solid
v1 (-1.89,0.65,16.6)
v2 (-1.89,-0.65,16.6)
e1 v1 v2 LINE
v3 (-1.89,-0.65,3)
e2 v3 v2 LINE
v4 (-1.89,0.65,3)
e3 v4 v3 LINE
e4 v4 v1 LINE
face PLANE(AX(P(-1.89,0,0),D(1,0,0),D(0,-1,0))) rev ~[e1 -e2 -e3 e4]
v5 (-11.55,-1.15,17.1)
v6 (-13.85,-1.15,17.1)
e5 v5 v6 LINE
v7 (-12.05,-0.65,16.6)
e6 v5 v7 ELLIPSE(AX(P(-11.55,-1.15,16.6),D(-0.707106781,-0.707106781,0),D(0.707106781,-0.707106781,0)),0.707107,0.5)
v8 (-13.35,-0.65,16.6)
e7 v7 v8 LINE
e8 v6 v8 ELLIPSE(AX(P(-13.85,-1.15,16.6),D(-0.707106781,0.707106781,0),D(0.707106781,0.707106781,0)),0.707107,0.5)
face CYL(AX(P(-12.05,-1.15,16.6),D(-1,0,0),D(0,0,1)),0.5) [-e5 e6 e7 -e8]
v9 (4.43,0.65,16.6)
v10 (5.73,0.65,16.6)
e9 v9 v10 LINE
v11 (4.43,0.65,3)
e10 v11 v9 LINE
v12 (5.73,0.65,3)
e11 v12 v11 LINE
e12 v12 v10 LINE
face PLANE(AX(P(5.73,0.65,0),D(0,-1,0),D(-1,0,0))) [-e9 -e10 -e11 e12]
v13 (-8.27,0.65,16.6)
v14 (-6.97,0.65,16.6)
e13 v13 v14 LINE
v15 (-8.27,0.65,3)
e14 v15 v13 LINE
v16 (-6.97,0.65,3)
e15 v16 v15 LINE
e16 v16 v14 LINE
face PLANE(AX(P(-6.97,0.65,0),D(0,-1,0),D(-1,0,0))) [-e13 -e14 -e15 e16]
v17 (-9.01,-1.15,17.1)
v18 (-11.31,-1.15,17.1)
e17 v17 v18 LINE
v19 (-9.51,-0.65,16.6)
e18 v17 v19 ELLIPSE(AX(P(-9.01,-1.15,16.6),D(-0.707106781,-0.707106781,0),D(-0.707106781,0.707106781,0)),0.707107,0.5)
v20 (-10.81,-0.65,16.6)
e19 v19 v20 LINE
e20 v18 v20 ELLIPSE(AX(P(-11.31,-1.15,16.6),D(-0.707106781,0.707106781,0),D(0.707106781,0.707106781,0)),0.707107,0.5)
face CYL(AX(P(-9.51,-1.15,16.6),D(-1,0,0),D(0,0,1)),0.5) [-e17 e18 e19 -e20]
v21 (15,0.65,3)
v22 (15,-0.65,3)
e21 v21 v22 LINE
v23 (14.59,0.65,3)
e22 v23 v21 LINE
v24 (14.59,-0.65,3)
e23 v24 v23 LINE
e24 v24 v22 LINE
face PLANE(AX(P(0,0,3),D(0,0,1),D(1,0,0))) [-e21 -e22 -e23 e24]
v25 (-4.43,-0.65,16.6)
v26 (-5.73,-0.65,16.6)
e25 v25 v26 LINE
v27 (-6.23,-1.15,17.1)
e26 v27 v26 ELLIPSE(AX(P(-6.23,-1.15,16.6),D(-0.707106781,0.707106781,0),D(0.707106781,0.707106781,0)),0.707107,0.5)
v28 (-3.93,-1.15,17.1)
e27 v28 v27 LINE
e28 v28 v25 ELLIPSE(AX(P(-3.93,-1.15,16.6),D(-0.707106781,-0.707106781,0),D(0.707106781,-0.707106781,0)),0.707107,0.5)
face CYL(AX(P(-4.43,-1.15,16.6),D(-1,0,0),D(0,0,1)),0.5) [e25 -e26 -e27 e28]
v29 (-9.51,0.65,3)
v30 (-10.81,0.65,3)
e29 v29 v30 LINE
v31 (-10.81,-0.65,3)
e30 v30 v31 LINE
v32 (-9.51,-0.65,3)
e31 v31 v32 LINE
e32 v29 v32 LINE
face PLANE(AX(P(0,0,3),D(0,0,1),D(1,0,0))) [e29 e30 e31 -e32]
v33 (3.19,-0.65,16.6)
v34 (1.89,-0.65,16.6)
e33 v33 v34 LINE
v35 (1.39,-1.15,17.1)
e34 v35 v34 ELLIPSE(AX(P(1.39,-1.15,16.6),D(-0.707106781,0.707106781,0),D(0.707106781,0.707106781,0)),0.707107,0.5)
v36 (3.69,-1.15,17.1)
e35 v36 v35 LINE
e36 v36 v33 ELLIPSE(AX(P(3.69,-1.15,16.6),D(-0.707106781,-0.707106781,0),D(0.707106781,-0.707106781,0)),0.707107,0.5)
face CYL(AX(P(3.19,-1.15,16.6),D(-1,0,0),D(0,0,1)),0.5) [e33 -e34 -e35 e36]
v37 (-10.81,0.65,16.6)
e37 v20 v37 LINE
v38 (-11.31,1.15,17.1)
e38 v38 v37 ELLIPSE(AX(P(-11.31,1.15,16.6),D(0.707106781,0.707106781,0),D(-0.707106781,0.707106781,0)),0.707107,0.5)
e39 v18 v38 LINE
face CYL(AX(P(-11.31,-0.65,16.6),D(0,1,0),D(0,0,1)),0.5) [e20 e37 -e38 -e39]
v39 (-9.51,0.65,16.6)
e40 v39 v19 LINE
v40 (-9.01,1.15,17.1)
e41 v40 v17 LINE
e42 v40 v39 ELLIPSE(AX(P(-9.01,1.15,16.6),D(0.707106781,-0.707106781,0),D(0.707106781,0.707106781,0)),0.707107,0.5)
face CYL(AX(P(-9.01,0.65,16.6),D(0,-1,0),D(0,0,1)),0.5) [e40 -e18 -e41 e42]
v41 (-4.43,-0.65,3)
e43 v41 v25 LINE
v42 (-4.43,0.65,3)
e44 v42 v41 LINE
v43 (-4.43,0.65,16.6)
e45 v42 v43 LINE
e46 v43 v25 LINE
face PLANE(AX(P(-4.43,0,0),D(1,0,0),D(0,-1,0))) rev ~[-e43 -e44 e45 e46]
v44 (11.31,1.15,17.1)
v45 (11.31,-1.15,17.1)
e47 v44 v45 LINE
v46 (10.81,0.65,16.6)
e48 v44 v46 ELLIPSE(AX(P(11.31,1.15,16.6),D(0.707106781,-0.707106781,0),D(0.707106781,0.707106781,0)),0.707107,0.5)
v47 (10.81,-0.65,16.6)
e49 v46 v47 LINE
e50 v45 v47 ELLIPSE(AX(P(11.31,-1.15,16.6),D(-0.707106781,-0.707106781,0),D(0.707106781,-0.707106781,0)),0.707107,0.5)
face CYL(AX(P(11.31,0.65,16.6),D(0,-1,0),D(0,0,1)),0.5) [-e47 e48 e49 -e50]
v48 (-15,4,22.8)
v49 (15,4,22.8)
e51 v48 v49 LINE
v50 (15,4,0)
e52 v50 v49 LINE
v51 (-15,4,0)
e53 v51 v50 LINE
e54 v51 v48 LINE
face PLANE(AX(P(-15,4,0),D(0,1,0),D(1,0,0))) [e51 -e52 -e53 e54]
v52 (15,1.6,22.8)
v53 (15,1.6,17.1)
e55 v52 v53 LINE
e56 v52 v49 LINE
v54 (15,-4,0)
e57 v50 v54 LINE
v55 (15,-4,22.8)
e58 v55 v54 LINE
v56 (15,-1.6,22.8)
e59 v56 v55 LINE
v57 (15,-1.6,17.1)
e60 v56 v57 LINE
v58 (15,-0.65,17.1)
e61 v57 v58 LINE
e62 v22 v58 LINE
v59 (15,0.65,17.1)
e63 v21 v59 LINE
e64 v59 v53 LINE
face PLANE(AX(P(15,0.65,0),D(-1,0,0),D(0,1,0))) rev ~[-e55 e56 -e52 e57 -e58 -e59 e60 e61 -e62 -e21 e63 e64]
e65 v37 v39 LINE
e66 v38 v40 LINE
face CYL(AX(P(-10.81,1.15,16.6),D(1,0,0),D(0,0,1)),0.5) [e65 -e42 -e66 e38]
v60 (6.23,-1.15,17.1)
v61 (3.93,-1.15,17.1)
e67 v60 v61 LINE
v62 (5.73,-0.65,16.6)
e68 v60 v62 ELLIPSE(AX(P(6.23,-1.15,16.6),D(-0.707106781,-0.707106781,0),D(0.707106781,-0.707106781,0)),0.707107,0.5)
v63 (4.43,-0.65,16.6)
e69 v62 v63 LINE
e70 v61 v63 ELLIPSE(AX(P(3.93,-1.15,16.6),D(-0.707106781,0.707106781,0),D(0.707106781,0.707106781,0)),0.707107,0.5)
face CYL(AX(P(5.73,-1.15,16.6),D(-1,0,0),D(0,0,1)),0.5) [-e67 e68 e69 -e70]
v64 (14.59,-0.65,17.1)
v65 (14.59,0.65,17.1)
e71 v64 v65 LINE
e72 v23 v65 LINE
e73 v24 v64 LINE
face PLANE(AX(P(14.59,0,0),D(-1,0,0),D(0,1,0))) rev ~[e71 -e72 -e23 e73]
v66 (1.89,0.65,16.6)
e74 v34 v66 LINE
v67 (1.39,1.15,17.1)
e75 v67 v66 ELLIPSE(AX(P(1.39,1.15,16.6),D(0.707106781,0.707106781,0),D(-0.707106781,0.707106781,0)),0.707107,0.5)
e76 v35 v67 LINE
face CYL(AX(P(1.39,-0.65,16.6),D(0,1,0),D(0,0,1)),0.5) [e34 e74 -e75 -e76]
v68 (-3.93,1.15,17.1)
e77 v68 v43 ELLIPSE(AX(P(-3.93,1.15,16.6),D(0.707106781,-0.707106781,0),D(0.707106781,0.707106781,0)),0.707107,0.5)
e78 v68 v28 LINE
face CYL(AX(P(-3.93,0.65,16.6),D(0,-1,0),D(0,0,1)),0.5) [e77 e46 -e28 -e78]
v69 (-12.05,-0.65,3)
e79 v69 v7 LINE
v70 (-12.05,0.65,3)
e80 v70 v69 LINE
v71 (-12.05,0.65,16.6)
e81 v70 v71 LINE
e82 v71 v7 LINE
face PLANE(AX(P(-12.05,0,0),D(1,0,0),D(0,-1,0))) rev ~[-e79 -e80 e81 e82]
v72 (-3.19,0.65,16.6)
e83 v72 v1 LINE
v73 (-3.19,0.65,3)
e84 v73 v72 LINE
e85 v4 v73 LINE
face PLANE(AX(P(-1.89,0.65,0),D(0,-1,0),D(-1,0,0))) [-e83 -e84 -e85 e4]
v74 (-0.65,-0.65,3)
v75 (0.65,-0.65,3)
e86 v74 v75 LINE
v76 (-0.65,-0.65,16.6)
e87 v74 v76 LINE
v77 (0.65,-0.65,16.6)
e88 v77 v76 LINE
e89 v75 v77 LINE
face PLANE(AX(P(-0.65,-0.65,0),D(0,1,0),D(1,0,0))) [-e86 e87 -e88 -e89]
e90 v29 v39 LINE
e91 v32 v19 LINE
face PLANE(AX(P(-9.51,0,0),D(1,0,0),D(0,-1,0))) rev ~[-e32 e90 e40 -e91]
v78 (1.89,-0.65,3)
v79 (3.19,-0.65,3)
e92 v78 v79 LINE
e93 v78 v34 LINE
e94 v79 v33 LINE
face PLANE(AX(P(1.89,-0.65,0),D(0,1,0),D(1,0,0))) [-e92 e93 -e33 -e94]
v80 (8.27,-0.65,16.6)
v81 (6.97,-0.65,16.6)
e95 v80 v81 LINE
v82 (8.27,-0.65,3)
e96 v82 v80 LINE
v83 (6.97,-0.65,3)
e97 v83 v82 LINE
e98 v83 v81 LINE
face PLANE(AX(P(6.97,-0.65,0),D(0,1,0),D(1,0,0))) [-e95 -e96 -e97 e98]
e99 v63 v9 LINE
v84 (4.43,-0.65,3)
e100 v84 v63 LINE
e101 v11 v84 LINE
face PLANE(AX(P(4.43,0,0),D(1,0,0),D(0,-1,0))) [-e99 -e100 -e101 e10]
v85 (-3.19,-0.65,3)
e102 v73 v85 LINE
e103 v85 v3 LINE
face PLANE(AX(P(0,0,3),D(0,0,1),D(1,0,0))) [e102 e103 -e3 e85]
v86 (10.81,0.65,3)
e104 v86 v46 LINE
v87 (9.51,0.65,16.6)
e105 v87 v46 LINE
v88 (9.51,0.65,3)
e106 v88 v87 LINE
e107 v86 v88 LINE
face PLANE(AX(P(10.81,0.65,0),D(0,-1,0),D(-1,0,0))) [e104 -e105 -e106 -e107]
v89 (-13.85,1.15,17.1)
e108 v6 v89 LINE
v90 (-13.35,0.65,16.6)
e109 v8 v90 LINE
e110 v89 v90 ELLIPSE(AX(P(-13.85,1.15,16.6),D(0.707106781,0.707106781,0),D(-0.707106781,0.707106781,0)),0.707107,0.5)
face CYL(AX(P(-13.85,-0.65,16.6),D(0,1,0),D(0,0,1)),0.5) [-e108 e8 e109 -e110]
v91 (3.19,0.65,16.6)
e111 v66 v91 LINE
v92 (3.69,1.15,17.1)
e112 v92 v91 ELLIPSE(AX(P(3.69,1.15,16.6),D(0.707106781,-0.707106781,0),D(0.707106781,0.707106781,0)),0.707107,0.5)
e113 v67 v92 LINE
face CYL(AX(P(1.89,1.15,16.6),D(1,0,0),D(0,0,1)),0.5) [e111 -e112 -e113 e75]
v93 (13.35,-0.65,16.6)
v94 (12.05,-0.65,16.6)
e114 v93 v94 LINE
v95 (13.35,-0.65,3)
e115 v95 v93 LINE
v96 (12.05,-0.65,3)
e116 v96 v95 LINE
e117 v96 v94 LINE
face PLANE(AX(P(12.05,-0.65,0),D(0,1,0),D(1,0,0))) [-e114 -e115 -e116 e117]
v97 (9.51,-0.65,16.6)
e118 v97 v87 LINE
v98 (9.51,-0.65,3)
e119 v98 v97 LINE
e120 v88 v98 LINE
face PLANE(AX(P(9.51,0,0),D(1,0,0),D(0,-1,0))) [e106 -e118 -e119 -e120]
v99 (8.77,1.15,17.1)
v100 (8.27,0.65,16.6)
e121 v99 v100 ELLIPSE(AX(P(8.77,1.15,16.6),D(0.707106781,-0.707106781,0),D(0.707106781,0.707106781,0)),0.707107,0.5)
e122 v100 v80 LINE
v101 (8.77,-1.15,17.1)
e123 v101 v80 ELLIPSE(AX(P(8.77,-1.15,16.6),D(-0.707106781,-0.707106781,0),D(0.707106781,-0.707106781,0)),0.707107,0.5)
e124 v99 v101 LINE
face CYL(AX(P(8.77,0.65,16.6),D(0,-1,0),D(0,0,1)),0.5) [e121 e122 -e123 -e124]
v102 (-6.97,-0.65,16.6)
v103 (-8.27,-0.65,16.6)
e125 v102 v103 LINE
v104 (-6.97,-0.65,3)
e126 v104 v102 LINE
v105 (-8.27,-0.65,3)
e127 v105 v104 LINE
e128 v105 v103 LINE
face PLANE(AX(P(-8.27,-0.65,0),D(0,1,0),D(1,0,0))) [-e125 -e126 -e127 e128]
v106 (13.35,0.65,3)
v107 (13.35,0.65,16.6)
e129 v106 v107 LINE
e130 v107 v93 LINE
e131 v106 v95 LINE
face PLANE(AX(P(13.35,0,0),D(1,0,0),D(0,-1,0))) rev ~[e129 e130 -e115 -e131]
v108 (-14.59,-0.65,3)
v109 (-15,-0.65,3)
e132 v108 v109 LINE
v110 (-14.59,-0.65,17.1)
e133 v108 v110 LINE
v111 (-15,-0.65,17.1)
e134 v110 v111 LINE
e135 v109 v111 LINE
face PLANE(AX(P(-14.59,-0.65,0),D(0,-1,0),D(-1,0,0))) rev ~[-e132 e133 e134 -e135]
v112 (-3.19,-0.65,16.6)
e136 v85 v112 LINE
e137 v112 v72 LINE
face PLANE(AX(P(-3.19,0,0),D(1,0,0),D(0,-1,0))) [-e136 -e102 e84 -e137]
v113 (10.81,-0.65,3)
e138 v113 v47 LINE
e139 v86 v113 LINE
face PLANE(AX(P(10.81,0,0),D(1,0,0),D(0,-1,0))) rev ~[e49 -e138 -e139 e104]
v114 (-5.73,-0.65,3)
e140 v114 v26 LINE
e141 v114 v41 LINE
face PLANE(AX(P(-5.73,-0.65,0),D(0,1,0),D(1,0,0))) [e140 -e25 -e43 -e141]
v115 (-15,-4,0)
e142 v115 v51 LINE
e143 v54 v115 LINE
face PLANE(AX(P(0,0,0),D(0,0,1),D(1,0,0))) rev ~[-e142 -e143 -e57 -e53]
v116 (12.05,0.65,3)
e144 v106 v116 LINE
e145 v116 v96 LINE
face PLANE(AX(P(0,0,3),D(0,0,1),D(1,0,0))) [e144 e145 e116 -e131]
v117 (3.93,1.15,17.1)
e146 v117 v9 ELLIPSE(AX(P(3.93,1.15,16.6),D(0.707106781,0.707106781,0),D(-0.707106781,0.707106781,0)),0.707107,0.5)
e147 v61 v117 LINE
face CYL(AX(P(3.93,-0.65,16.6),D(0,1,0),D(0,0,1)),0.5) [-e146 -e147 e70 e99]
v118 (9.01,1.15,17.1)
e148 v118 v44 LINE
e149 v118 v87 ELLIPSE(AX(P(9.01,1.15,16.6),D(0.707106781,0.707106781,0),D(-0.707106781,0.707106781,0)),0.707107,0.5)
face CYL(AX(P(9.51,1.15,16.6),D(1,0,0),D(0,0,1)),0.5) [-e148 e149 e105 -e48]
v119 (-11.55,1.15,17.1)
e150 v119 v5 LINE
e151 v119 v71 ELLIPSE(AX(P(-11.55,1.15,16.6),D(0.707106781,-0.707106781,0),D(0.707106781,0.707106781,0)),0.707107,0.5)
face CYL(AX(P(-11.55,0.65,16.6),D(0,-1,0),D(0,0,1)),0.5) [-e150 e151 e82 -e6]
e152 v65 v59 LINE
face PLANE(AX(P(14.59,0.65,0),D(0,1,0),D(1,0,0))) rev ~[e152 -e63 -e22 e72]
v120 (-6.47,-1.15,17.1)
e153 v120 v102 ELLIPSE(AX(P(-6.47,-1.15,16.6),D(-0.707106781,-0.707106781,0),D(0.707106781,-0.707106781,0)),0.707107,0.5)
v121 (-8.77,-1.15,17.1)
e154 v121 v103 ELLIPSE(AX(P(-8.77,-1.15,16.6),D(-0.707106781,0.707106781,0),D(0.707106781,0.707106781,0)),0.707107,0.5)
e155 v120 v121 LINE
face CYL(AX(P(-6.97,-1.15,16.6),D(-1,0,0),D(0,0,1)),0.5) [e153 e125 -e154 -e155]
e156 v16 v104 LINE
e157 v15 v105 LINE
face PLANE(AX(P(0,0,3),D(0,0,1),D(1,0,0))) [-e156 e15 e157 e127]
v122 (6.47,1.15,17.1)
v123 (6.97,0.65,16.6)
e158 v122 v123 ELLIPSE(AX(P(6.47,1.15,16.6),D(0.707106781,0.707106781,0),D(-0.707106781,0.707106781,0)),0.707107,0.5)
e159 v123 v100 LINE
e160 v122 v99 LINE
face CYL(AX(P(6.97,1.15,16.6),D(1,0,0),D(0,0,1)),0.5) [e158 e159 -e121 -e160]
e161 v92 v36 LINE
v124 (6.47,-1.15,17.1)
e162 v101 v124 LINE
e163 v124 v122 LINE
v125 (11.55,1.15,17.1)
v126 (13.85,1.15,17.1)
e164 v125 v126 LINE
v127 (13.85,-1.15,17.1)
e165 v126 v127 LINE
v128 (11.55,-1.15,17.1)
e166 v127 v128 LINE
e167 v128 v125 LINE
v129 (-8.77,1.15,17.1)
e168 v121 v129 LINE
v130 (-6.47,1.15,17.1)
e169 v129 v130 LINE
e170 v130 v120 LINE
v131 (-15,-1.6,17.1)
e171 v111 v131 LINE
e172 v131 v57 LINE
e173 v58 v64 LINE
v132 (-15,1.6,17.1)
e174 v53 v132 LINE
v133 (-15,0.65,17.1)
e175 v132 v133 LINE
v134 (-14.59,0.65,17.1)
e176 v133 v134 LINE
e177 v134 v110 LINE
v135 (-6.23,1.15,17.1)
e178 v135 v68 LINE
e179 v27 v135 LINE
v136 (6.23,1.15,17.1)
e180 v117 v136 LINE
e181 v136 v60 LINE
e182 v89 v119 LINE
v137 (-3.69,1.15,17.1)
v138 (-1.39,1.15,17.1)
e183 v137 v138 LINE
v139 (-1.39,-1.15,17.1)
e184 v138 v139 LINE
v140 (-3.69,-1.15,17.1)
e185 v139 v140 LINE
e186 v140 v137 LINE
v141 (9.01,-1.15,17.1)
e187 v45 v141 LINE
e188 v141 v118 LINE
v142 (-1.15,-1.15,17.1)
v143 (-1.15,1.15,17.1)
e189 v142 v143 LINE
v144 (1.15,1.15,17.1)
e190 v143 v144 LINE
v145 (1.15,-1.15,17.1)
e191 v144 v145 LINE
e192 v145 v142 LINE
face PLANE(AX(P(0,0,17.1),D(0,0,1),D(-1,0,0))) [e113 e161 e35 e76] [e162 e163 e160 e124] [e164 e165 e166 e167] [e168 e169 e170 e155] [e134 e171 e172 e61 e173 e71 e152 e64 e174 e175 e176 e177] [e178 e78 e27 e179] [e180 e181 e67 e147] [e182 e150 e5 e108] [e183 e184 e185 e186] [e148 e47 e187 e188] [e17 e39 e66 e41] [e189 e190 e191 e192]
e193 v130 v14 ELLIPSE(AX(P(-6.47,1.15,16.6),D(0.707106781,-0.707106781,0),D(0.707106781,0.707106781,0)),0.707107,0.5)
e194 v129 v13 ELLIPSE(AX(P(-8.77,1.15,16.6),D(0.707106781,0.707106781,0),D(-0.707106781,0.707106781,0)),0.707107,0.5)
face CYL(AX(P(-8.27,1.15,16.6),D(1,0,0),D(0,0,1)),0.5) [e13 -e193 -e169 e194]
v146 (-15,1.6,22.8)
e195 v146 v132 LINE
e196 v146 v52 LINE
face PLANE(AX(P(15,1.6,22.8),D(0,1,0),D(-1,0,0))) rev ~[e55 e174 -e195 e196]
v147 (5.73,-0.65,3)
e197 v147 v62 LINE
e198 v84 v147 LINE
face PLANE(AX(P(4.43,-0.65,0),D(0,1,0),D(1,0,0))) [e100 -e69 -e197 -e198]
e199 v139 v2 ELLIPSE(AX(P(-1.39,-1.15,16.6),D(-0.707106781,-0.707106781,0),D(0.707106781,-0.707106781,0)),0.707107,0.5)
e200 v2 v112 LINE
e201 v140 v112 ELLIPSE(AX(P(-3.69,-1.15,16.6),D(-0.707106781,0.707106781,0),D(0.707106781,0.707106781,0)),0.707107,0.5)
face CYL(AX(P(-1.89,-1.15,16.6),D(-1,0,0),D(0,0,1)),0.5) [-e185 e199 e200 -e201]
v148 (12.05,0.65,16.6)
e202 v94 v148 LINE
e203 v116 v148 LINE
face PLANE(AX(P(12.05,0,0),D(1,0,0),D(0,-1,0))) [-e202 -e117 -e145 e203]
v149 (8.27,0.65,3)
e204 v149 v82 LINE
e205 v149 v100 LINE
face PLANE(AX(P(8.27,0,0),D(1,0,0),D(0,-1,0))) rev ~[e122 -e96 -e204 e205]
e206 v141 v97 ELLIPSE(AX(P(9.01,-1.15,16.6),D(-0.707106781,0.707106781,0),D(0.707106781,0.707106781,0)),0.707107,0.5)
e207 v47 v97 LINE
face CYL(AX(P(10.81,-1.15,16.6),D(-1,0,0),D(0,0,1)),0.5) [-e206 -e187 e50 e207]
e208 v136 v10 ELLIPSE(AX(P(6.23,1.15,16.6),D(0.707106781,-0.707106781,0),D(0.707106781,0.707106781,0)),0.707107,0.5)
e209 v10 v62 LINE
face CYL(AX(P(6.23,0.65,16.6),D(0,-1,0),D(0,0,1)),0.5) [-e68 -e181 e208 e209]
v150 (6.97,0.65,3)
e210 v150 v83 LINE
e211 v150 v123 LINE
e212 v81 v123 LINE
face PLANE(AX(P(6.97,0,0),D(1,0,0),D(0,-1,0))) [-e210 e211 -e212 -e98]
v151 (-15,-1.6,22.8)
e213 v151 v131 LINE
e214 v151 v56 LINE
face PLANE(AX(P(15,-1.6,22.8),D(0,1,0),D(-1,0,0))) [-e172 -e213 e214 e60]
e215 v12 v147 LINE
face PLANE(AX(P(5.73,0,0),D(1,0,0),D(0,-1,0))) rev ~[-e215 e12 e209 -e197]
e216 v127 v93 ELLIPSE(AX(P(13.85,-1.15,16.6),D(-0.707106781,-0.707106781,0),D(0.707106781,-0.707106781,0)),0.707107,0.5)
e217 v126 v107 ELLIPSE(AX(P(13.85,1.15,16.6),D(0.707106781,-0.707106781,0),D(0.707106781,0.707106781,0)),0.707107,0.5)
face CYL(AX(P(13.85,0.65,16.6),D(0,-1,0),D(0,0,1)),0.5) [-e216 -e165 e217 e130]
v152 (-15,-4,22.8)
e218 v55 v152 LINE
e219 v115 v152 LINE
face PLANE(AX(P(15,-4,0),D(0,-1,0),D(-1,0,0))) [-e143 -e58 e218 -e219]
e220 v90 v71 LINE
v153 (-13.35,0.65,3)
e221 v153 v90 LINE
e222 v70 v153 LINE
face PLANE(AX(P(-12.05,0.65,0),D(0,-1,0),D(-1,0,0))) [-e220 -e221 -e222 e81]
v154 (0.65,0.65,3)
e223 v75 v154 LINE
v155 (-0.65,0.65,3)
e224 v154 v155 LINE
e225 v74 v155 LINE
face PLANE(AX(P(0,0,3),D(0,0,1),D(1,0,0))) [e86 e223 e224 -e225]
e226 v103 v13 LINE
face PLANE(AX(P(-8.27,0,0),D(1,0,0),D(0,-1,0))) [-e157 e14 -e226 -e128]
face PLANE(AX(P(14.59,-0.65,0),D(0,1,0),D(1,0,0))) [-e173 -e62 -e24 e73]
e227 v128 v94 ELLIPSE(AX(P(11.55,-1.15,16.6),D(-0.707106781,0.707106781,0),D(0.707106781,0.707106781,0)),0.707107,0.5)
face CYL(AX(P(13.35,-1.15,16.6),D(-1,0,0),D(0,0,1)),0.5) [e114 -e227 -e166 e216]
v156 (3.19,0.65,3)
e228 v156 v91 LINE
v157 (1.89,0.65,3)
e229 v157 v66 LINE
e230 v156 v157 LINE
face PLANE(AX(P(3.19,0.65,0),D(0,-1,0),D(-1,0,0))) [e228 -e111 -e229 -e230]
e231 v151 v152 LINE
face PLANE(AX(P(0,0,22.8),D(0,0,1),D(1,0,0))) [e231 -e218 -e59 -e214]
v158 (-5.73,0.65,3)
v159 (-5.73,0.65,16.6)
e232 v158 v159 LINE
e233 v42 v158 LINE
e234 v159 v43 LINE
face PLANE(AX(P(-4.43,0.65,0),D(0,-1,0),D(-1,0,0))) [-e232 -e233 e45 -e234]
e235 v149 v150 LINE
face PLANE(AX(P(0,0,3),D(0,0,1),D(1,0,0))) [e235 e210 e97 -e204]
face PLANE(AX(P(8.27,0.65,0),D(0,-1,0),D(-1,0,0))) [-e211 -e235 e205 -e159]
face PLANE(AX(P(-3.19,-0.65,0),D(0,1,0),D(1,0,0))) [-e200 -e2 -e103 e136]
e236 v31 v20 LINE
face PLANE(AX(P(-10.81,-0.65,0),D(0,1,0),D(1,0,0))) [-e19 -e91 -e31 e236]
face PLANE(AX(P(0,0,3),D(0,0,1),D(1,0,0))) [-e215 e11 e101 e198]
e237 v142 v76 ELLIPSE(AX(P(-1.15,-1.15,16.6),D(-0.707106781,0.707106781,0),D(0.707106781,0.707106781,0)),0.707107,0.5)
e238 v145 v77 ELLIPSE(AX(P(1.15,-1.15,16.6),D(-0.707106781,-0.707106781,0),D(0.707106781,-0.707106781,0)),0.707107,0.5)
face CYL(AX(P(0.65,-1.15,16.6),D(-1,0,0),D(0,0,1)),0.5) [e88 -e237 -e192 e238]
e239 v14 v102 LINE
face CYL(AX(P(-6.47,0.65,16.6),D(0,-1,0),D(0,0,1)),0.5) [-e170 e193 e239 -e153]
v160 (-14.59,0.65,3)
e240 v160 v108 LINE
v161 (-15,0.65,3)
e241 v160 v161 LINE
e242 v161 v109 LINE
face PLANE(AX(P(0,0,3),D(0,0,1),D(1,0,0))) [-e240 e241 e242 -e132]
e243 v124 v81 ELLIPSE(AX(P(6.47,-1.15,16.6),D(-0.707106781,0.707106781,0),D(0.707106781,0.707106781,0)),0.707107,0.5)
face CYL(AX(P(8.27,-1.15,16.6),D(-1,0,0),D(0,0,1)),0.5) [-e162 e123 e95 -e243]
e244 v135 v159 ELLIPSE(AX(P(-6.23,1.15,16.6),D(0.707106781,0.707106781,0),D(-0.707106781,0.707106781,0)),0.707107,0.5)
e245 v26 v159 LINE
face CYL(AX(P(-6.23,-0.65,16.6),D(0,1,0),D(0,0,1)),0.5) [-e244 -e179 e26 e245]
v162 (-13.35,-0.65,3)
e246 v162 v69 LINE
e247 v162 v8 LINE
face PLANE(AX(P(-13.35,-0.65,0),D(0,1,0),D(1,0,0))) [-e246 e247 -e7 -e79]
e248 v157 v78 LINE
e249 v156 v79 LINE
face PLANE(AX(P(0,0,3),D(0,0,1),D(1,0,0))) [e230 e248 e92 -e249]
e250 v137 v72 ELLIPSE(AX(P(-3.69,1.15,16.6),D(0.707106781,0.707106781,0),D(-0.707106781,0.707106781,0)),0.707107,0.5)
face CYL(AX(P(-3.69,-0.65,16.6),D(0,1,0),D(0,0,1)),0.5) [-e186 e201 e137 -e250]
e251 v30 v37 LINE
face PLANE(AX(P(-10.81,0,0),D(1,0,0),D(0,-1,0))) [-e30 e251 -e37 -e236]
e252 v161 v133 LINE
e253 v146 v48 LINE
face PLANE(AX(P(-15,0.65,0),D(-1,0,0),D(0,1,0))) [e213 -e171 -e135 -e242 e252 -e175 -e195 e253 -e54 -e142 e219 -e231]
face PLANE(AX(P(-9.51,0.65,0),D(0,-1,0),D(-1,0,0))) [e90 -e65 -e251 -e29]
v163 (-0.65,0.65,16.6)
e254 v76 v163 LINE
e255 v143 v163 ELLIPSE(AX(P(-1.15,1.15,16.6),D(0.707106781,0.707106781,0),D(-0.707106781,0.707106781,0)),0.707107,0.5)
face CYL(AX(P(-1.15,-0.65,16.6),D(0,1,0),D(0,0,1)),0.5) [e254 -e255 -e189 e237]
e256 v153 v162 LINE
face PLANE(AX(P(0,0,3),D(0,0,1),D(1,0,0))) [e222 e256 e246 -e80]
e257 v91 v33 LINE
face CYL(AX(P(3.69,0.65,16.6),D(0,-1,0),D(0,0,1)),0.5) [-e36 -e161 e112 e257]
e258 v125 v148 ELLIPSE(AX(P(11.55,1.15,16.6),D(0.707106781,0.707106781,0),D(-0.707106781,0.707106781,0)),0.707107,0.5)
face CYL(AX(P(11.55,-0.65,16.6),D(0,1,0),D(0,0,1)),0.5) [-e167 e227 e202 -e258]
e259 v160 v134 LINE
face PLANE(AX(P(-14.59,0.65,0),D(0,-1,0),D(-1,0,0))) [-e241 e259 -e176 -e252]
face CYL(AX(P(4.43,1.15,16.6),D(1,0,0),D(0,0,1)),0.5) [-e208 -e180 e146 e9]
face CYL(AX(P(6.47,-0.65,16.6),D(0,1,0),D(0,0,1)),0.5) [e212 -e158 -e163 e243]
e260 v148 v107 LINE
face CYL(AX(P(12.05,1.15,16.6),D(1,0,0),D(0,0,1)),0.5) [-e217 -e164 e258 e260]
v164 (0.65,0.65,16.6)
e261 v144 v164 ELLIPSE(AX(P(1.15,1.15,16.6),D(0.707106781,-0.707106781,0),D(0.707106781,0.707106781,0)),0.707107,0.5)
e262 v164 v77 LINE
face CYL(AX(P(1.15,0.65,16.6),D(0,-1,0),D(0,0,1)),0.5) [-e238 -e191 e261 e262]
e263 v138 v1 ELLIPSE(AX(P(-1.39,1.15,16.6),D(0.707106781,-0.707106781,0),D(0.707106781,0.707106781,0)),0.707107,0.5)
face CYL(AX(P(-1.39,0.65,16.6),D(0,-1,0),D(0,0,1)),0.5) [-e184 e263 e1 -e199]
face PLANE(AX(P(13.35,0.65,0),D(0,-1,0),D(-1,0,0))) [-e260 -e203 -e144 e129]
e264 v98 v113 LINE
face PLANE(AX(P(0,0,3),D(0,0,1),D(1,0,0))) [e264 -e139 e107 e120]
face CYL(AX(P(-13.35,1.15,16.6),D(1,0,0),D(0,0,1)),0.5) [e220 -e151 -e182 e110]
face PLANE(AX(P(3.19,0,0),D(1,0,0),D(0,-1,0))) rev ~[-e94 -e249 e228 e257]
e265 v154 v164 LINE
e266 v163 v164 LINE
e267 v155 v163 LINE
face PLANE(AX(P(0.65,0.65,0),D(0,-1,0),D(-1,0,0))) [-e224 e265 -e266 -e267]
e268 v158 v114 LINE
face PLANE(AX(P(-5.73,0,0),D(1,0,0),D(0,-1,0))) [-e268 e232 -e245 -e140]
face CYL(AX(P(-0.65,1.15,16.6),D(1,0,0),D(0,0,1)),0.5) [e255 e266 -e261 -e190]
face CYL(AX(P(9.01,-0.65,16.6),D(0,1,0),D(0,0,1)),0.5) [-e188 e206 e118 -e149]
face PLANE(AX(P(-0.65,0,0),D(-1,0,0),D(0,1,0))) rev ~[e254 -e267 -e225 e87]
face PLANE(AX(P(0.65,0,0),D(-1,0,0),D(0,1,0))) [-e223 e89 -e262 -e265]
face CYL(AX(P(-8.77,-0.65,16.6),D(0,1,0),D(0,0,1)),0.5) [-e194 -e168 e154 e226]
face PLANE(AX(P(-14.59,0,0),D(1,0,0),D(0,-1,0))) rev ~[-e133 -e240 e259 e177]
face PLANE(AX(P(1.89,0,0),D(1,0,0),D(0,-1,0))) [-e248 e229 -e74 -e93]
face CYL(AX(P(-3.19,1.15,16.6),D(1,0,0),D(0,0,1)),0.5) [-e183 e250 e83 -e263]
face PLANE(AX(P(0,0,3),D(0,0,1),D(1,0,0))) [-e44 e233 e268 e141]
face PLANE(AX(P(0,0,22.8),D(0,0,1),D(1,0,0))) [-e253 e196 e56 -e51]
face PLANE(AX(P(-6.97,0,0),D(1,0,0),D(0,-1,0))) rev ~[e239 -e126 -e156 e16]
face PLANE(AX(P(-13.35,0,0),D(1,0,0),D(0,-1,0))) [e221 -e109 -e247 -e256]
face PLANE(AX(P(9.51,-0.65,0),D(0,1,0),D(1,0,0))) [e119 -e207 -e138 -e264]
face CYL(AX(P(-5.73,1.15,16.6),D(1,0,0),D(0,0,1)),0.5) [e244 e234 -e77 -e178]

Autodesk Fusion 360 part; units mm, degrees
sketch "Sketch1" plane through (0, 0, 0) normal (0, 0, 1) x (1, 0, 0)
  line L0 (0, 0) -> (15, 0) construction
  line L1 (15, 0) -> (15, 4)
  line L2 (15, 4) -> (0, 4)
  line L3 (0, 4) -> (0, 0) construction
  line L4 (0, 0) -> (0.65, 0) construction
  line L5 (0.65, 0) -> (0.65, 0.65)
  line L6 (0.65, 0.65) -> (0, 0.65)
  line L7 (0, 0.65) -> (0, 0) construction
  line L8 (0.65, -0.65) -> (0, -0.65)
  line L9 (0.65, 0) -> (0.65, -0.65)
  line L10 (-0.65, 0.65) -> (0, 0.65)
  line L11 (-0.65, 0) -> (-0.65, 0.65)
  line L12 (-0.65, 0) -> (-0.65, -0.65)
  line L13 (-0.65, -0.65) -> (0, -0.65)
  line L14 (1.89, 0) -> (1.89, 0.65)
  line L15 (1.89, 0.65) -> (2.54, 0.65)
  line L16 (3.19, 0) -> (3.19, 0.65)
  line L17 (3.19, 0.65) -> (2.54, 0.65)
  line L18 (3.19, 0) -> (3.19, -0.65)
  line L19 (3.19, -0.65) -> (2.54, -0.65)
  line L20 (1.89, 0) -> (1.89, -0.65)
  line L21 (1.89, -0.65) -> (2.54, -0.65)
  line L22 (2.54, 0) -> (17.54, 0) construction
  line L23 (4.43, 0) -> (4.43, 0.65)
  line L24 (4.43, 0.65) -> (5.08, 0.65)
  line L25 (5.73, 0) -> (5.73, 0.65)
  line L26 (5.73, 0.65) -> (5.08, 0.65)
  line L27 (5.73, 0) -> (5.73, -0.65)
  line L28 (5.73, -0.65) -> (5.08, -0.65)
  line L29 (4.43, 0) -> (4.43, -0.65)
  line L30 (4.43, -0.65) -> (5.08, -0.65)
  line L31 (5.08, 0) -> (20.08, 0) construction
  line L32 (6.97, 0) -> (6.97, 0.65)
  line L33 (6.97, 0.65) -> (7.62, 0.65)
  line L34 (8.27, 0) -> (8.27, 0.65)
  line L35 (8.27, 0.65) -> (7.62, 0.65)
  line L36 (8.27, 0) -> (8.27, -0.65)
  line L37 (8.27, -0.65) -> (7.62, -0.65)
  line L38 (6.97, 0) -> (6.97, -0.65)
  line L39 (6.97, -0.65) -> (7.62, -0.65)
  line L40 (7.62, 0) -> (22.62, 0) construction
  line L41 (9.51, 0) -> (9.51, 0.65)
  line L42 (9.51, 0.65) -> (10.16, 0.65)
  line L43 (10.81, 0) -> (10.81, 0.65)
  line L44 (10.81, 0.65) -> (10.16, 0.65)
  line L45 (10.81, 0) -> (10.81, -0.65)
  line L46 (10.81, -0.65) -> (10.16, -0.65)
  line L47 (9.51, 0) -> (9.51, -0.65)
  line L48 (9.51, -0.65) -> (10.16, -0.65)
  line L49 (10.16, 0) -> (25.16, 0) construction
  line L50 (12.05, 0) -> (12.05, 0.65)
  line L51 (12.05, 0.65) -> (12.7, 0.65)
  line L52 (13.35, 0) -> (13.35, 0.65)
  line L53 (13.35, 0.65) -> (12.7, 0.65)
  line L54 (13.35, 0) -> (13.35, -0.65)
  line L55 (13.35, -0.65) -> (12.7, -0.65)
  line L56 (12.05, 0) -> (12.05, -0.65)
  line L57 (12.05, -0.65) -> (12.7, -0.65)
  line L58 (12.7, 0) -> (27.7, 0) construction
  line L59 (14.59, 0) -> (14.59, 0.65)
  line L60 (14.59, 0.65) -> (15.24, 0.65)
  line L61 (15.89, 0) -> (15.89, 0.65)
  line L62 (15.89, 0.65) -> (15.24, 0.65)
  line L63 (15.89, 0) -> (15.89, -0.65)
  line L64 (15.89, -0.65) -> (15.24, -0.65)
  line L65 (14.59, 0) -> (14.59, -0.65)
  line L66 (14.59, -0.65) -> (15.24, -0.65)
  line L67 (15.24, 0) -> (30.24, 0) construction
  line L68 (-3.19, 0) -> (-3.19, 0.65)
  line L69 (-3.19, 0.65) -> (-2.54, 0.65)
  line L70 (-1.89, 0) -> (-1.89, 0.65)
  line L71 (-1.89, 0.65) -> (-2.54, 0.65)
  line L72 (-1.89, 0) -> (-1.89, -0.65)
  line L73 (-1.89, -0.65) -> (-2.54, -0.65)
  line L74 (-3.19, 0) -> (-3.19, -0.65)
  line L75 (-3.19, -0.65) -> (-2.54, -0.65)
  line L76 (-2.54, 0) -> (12.46, 0) construction
  line L77 (-5.73, 0) -> (-5.73, 0.65)
  line L78 (-5.73, 0.65) -> (-5.08, 0.65)
  line L79 (-4.43, 0) -> (-4.43, 0.65)
  line L80 (-4.43, 0.65) -> (-5.08, 0.65)
  line L81 (-4.43, 0) -> (-4.43, -0.65)
  line L82 (-4.43, -0.65) -> (-5.08, -0.65)
  line L83 (-5.73, 0) -> (-5.73, -0.65)
  line L84 (-5.73, -0.65) -> (-5.08, -0.65)
  line L85 (-5.08, 0) -> (9.92, 0) construction
  line L86 (-8.27, 0) -> (-8.27, 0.65)
  line L87 (-8.27, 0.65) -> (-7.62, 0.65)
  line L88 (-6.97, 0) -> (-6.97, 0.65)
  line L89 (-6.97, 0.65) -> (-7.62, 0.65)
  line L90 (-6.97, 0) -> (-6.97, -0.65)
  line L91 (-6.97, -0.65) -> (-7.62, -0.65)
  line L92 (-8.27, 0) -> (-8.27, -0.65)
  line L93 (-8.27, -0.65) -> (-7.62, -0.65)
  line L94 (-7.62, 0) -> (7.38, 0) construction
  line L95 (-10.81, 0) -> (-10.81, 0.65)
  line L96 (-10.81, 0.65) -> (-10.16, 0.65)
  line L97 (-9.51, 0) -> (-9.51, 0.65)
  line L98 (-9.51, 0.65) -> (-10.16, 0.65)
  line L99 (-9.51, 0) -> (-9.51, -0.65)
  line L100 (-9.51, -0.65) -> (-10.16, -0.65)
  line L101 (-10.81, 0) -> (-10.81, -0.65)
  line L102 (-10.81, -0.65) -> (-10.16, -0.65)
  line L103 (-10.16, 0) -> (4.84, 0) construction
  line L104 (-13.35, 0) -> (-13.35, 0.65)
  line L105 (-13.35, 0.65) -> (-12.7, 0.65)
  line L106 (-12.05, 0) -> (-12.05, 0.65)
  line L107 (-12.05, 0.65) -> (-12.7, 0.65)
  line L108 (-12.05, 0) -> (-12.05, -0.65)
  line L109 (-12.05, -0.65) -> (-12.7, -0.65)
  line L110 (-13.35, 0) -> (-13.35, -0.65)
  line L111 (-13.35, -0.65) -> (-12.7, -0.65)
  line L112 (-12.7, 0) -> (2.3, 0) construction
  line L113 (-15.89, 0) -> (-15.89, 0.65)
  line L114 (-15.89, 0.65) -> (-15.24, 0.65)
  line L115 (-14.59, 0) -> (-14.59, 0.65)
  line L116 (-14.59, 0.65) -> (-15.24, 0.65)
  line L117 (-14.59, 0) -> (-14.59, -0.65)
  line L118 (-14.59, -0.65) -> (-15.24, -0.65)
  line L119 (-15.89, 0) -> (-15.89, -0.65)
  line L120 (-15.89, -0.65) -> (-15.24, -0.65)
  line L121 (-15.24, 0) -> (-0.24, 0) construction
  line L122 (15, 0) -> (15, -4)
  line L123 (15, -4) -> (0, -4)
  line L124 (-15, 0) -> (-15, 4)
  line L125 (-15, 4) -> (0, 4)
  line L126 (-15, 0) -> (-15, -4)
  line L127 (-15, -4) -> (0, -4)
  dimension "d1" = 15
  dimension "d2" = 4
  dimension "d3" = 0.65
  dimension "d4" = 0.65
  dimension "d7" = 15.24
  dimension "d8" = 0
  dimension "d11" = -15.24
  dimension "d12" = 0
extrude "Extrude1" add sketch "Sketch1" along normal blind 22.8 contours L1 L2 L59 L60 L65 L66 L115 L116 L117 L118 L122 L123 L124 L125 L126 L127
sketch "Sketch2" plane through (0, 0, 22.8) normal (0, 0, 1) x (-1, 0, 0)
  line L0 (-12.05, 0.65) -> (-12.05, -0.65)
  line L1 (-12.05, -0.65) -> (-13.35, -0.65)
  line L2 (-13.35, -0.65) -> (-13.35, 0.65)
  line L3 (-13.35, 0.65) -> (-12.05, 0.65)
  line L4 (3.19, 0.65) -> (3.19, -0.65)
  line L5 (3.19, -0.65) -> (1.89, -0.65)
  line L6 (1.89, -0.65) -> (1.89, 0.65)
  line L7 (1.89, 0.65) -> (3.19, 0.65)
  line L8 (-9.51, 0.65) -> (-9.51, -0.65)
  line L9 (-9.51, -0.65) -> (-10.81, -0.65)
  line L10 (-10.81, -0.65) -> (-10.81, 0.65)
  line L11 (-10.81, 0.65) -> (-9.51, 0.65)
  line L12 (-6.97, 0.65) -> (-6.97, -0.65)
  line L13 (-6.97, -0.65) -> (-8.27, -0.65)
  line L14 (-8.27, -0.65) -> (-8.27, 0.65)
  line L15 (-8.27, 0.65) -> (-6.97, 0.65)
  line L16 (13.35, 0.65) -> (13.35, -0.65)
  line L17 (13.35, -0.65) -> (12.05, -0.65)
  line L18 (12.05, -0.65) -> (12.05, 0.65)
  line L19 (12.05, 0.65) -> (13.35, 0.65)
  line L20 (8.27, 0.65) -> (8.27, -0.65)
  line L21 (8.27, -0.65) -> (6.97, -0.65)
  line L22 (6.97, -0.65) -> (6.97, 0.65)
  line L23 (6.97, 0.65) -> (8.27, 0.65)
  line L24 (5.73, 0.65) -> (5.73, -0.65)
  line L25 (5.73, -0.65) -> (4.43, -0.65)
  line L26 (4.43, -0.65) -> (4.43, 0.65)
  line L27 (4.43, 0.65) -> (5.73, 0.65)
  line L28 (10.81, 0.65) -> (10.81, -0.65)
  line L29 (10.81, -0.65) -> (9.51, -0.65)
  line L30 (9.51, -0.65) -> (9.51, 0.65)
  line L31 (9.51, 0.65) -> (10.81, 0.65)
  line L32 (-4.43, 0.65) -> (-4.43, -0.65)
  line L33 (-4.43, -0.65) -> (-5.73, -0.65)
  line L34 (-5.73, -0.65) -> (-5.73, 0.65)
  line L35 (-5.73, 0.65) -> (-4.43, 0.65)
  line L36 (-1.89, 0.65) -> (-1.89, -0.65)
  line L37 (-1.89, -0.65) -> (-3.19, -0.65)
  line L38 (-3.19, -0.65) -> (-3.19, 0.65)
  line L39 (-3.19, 0.65) -> (-1.89, 0.65)
  line L40 (0.65, 0.65) -> (0.65, -0.65)
  line L41 (0.65, -0.65) -> (-0.65, -0.65)
  line L42 (-0.65, -0.65) -> (-0.65, 0.65)
  line L43 (-0.65, 0.65) -> (0.65, 0.65)
  line L44 (14.59, -0.65) -> (14.59, 0.65)
  line L45 (14.59, 0.65) -> (15, 0.65)
  line L46 (15, 0.65) -> (15, 4)
  line L47 (15, 4) -> (-15, 4)
  line L48 (-15, 4) -> (-15, 0.65)
  line L49 (-15, 0.65) -> (-14.59, 0.65)
  line L50 (-14.59, 0.65) -> (-14.59, -0.65)
  line L51 (-14.59, -0.65) -> (-15, -0.65)
  line L52 (-15, -0.65) -> (-15, -4)
  line L53 (-15, -4) -> (15, -4)
  line L54 (15, -4) -> (15, -0.65)
  line L55 (15, -0.65) -> (14.59, -0.65)
  line L56 (0, 0) -> (-15, 0) construction
  line L57 (-15, 0) -> (-15, -1.6)
  line L58 (-15, -1.6) -> (0, -1.6)
  line L59 (0, -1.6) -> (0, 0) construction
  line L60 (-15, 0) -> (-15, 1.6)
  line L61 (-15, 1.6) -> (0, 1.6)
  line L62 (15, 0) -> (15, -1.6)
  line L63 (15, -1.6) -> (0, -1.6)
  line L64 (15, 0) -> (15, 1.6)
  line L65 (15, 1.6) -> (0, 1.6)
  dimension "d15" = 1.6
extrude "Extrude2" cut sketch "Sketch2" against normal blind 5.7 contours L44 L45 L46 L48 L49 L50 L51 L52 L54 L55 L57 L58 L60 L61 L62 L63 L64 L65
extrude "Extrude4" add sketch "Sketch1" along normal blind 3 contours L1 L59 L60 L65 L66 L122 | L1 L2 L59 L60 L65 L66 L115 L116 L117 L118 L122 L123 L124 L125 L126 L127 | L115 L116 L117 L118 L124 L126 | L5 L6 L8 L9 L10 L11 L12 L13 | L14 L15 L16 L17 L18 L19 L20 L21 | L23 L24 L25 L26 L27 L28 L29 L30 | L32 L33 L34 L35 L36 L37 L38 L39 | L41 L42 L43 L44 L45 L46 L47 L48 | L50 L51 L52 L53 L54 L55 L56 L57 | L68 L69 L70 L71 L72 L73 L74 L75 | L77 L78 L79 L80 L81 L82 L83 L84 | L86 L87 L88 L89 L90 L91 L92 L93 | L95 L96 L97 L98 L99 L100 L101 L102 | L104 L105 L106 L107 L108 L109 L110 L111
fillet "Fillet1" radius 0.5 44 edges at (-13.35, 0, 17.1) (-12.7, 0.65, 17.1) (-12.05, 0, 17.1) (-12.7, -0.65, 17.1) (-10.81, 0, 17.1) (-10.16, 0.65, 17.1) (-10.16, -0.65, 17.1) (-9.51, 0, 17.1) (-8.27, 0, 17.1) (-7.62, 0.65, 17.1) (-6.97, 0, 17.1) (-7.62, -0.65, 17.1) (-5.73, 0, 17.1) (-5.08, 0.65, 17.1) (-4.43, 0, 17.1) (-5.08, -0.65, 17.1) (-3.19, 0, 17.1) (-2.54, 0.65, 17.1) (-1.89, 0, 17.1) (-2.54, -0.65, 17.1) (-0.65, 0, 17.1) (0, 0.65, 17.1) (0.65, 0, 17.1) (0, -0.65, 17.1) (1.89, 0, 17.1) (2.54, 0.65, 17.1) (3.19, 0, 17.1) (2.54, -0.65, 17.1) (4.43, 0, 17.1) (5.08, 0.65, 17.1) (5.73, 0, 17.1) (5.08, -0.65, 17.1) (6.97, 0, 17.1) (7.62, 0.65, 17.1) (8.27, 0, 17.1) (7.62, -0.65, 17.1) (9.51, 0, 17.1) (10.16, 0.65, 17.1) (10.81, 0, 17.1) (10.16, -0.65, 17.1) (12.05, 0, 17.1) (12.7, 0.65, 17.1) (13.35, 0, 17.1) (12.7, -0.65, 17.1)
equation "d3 = d4"
